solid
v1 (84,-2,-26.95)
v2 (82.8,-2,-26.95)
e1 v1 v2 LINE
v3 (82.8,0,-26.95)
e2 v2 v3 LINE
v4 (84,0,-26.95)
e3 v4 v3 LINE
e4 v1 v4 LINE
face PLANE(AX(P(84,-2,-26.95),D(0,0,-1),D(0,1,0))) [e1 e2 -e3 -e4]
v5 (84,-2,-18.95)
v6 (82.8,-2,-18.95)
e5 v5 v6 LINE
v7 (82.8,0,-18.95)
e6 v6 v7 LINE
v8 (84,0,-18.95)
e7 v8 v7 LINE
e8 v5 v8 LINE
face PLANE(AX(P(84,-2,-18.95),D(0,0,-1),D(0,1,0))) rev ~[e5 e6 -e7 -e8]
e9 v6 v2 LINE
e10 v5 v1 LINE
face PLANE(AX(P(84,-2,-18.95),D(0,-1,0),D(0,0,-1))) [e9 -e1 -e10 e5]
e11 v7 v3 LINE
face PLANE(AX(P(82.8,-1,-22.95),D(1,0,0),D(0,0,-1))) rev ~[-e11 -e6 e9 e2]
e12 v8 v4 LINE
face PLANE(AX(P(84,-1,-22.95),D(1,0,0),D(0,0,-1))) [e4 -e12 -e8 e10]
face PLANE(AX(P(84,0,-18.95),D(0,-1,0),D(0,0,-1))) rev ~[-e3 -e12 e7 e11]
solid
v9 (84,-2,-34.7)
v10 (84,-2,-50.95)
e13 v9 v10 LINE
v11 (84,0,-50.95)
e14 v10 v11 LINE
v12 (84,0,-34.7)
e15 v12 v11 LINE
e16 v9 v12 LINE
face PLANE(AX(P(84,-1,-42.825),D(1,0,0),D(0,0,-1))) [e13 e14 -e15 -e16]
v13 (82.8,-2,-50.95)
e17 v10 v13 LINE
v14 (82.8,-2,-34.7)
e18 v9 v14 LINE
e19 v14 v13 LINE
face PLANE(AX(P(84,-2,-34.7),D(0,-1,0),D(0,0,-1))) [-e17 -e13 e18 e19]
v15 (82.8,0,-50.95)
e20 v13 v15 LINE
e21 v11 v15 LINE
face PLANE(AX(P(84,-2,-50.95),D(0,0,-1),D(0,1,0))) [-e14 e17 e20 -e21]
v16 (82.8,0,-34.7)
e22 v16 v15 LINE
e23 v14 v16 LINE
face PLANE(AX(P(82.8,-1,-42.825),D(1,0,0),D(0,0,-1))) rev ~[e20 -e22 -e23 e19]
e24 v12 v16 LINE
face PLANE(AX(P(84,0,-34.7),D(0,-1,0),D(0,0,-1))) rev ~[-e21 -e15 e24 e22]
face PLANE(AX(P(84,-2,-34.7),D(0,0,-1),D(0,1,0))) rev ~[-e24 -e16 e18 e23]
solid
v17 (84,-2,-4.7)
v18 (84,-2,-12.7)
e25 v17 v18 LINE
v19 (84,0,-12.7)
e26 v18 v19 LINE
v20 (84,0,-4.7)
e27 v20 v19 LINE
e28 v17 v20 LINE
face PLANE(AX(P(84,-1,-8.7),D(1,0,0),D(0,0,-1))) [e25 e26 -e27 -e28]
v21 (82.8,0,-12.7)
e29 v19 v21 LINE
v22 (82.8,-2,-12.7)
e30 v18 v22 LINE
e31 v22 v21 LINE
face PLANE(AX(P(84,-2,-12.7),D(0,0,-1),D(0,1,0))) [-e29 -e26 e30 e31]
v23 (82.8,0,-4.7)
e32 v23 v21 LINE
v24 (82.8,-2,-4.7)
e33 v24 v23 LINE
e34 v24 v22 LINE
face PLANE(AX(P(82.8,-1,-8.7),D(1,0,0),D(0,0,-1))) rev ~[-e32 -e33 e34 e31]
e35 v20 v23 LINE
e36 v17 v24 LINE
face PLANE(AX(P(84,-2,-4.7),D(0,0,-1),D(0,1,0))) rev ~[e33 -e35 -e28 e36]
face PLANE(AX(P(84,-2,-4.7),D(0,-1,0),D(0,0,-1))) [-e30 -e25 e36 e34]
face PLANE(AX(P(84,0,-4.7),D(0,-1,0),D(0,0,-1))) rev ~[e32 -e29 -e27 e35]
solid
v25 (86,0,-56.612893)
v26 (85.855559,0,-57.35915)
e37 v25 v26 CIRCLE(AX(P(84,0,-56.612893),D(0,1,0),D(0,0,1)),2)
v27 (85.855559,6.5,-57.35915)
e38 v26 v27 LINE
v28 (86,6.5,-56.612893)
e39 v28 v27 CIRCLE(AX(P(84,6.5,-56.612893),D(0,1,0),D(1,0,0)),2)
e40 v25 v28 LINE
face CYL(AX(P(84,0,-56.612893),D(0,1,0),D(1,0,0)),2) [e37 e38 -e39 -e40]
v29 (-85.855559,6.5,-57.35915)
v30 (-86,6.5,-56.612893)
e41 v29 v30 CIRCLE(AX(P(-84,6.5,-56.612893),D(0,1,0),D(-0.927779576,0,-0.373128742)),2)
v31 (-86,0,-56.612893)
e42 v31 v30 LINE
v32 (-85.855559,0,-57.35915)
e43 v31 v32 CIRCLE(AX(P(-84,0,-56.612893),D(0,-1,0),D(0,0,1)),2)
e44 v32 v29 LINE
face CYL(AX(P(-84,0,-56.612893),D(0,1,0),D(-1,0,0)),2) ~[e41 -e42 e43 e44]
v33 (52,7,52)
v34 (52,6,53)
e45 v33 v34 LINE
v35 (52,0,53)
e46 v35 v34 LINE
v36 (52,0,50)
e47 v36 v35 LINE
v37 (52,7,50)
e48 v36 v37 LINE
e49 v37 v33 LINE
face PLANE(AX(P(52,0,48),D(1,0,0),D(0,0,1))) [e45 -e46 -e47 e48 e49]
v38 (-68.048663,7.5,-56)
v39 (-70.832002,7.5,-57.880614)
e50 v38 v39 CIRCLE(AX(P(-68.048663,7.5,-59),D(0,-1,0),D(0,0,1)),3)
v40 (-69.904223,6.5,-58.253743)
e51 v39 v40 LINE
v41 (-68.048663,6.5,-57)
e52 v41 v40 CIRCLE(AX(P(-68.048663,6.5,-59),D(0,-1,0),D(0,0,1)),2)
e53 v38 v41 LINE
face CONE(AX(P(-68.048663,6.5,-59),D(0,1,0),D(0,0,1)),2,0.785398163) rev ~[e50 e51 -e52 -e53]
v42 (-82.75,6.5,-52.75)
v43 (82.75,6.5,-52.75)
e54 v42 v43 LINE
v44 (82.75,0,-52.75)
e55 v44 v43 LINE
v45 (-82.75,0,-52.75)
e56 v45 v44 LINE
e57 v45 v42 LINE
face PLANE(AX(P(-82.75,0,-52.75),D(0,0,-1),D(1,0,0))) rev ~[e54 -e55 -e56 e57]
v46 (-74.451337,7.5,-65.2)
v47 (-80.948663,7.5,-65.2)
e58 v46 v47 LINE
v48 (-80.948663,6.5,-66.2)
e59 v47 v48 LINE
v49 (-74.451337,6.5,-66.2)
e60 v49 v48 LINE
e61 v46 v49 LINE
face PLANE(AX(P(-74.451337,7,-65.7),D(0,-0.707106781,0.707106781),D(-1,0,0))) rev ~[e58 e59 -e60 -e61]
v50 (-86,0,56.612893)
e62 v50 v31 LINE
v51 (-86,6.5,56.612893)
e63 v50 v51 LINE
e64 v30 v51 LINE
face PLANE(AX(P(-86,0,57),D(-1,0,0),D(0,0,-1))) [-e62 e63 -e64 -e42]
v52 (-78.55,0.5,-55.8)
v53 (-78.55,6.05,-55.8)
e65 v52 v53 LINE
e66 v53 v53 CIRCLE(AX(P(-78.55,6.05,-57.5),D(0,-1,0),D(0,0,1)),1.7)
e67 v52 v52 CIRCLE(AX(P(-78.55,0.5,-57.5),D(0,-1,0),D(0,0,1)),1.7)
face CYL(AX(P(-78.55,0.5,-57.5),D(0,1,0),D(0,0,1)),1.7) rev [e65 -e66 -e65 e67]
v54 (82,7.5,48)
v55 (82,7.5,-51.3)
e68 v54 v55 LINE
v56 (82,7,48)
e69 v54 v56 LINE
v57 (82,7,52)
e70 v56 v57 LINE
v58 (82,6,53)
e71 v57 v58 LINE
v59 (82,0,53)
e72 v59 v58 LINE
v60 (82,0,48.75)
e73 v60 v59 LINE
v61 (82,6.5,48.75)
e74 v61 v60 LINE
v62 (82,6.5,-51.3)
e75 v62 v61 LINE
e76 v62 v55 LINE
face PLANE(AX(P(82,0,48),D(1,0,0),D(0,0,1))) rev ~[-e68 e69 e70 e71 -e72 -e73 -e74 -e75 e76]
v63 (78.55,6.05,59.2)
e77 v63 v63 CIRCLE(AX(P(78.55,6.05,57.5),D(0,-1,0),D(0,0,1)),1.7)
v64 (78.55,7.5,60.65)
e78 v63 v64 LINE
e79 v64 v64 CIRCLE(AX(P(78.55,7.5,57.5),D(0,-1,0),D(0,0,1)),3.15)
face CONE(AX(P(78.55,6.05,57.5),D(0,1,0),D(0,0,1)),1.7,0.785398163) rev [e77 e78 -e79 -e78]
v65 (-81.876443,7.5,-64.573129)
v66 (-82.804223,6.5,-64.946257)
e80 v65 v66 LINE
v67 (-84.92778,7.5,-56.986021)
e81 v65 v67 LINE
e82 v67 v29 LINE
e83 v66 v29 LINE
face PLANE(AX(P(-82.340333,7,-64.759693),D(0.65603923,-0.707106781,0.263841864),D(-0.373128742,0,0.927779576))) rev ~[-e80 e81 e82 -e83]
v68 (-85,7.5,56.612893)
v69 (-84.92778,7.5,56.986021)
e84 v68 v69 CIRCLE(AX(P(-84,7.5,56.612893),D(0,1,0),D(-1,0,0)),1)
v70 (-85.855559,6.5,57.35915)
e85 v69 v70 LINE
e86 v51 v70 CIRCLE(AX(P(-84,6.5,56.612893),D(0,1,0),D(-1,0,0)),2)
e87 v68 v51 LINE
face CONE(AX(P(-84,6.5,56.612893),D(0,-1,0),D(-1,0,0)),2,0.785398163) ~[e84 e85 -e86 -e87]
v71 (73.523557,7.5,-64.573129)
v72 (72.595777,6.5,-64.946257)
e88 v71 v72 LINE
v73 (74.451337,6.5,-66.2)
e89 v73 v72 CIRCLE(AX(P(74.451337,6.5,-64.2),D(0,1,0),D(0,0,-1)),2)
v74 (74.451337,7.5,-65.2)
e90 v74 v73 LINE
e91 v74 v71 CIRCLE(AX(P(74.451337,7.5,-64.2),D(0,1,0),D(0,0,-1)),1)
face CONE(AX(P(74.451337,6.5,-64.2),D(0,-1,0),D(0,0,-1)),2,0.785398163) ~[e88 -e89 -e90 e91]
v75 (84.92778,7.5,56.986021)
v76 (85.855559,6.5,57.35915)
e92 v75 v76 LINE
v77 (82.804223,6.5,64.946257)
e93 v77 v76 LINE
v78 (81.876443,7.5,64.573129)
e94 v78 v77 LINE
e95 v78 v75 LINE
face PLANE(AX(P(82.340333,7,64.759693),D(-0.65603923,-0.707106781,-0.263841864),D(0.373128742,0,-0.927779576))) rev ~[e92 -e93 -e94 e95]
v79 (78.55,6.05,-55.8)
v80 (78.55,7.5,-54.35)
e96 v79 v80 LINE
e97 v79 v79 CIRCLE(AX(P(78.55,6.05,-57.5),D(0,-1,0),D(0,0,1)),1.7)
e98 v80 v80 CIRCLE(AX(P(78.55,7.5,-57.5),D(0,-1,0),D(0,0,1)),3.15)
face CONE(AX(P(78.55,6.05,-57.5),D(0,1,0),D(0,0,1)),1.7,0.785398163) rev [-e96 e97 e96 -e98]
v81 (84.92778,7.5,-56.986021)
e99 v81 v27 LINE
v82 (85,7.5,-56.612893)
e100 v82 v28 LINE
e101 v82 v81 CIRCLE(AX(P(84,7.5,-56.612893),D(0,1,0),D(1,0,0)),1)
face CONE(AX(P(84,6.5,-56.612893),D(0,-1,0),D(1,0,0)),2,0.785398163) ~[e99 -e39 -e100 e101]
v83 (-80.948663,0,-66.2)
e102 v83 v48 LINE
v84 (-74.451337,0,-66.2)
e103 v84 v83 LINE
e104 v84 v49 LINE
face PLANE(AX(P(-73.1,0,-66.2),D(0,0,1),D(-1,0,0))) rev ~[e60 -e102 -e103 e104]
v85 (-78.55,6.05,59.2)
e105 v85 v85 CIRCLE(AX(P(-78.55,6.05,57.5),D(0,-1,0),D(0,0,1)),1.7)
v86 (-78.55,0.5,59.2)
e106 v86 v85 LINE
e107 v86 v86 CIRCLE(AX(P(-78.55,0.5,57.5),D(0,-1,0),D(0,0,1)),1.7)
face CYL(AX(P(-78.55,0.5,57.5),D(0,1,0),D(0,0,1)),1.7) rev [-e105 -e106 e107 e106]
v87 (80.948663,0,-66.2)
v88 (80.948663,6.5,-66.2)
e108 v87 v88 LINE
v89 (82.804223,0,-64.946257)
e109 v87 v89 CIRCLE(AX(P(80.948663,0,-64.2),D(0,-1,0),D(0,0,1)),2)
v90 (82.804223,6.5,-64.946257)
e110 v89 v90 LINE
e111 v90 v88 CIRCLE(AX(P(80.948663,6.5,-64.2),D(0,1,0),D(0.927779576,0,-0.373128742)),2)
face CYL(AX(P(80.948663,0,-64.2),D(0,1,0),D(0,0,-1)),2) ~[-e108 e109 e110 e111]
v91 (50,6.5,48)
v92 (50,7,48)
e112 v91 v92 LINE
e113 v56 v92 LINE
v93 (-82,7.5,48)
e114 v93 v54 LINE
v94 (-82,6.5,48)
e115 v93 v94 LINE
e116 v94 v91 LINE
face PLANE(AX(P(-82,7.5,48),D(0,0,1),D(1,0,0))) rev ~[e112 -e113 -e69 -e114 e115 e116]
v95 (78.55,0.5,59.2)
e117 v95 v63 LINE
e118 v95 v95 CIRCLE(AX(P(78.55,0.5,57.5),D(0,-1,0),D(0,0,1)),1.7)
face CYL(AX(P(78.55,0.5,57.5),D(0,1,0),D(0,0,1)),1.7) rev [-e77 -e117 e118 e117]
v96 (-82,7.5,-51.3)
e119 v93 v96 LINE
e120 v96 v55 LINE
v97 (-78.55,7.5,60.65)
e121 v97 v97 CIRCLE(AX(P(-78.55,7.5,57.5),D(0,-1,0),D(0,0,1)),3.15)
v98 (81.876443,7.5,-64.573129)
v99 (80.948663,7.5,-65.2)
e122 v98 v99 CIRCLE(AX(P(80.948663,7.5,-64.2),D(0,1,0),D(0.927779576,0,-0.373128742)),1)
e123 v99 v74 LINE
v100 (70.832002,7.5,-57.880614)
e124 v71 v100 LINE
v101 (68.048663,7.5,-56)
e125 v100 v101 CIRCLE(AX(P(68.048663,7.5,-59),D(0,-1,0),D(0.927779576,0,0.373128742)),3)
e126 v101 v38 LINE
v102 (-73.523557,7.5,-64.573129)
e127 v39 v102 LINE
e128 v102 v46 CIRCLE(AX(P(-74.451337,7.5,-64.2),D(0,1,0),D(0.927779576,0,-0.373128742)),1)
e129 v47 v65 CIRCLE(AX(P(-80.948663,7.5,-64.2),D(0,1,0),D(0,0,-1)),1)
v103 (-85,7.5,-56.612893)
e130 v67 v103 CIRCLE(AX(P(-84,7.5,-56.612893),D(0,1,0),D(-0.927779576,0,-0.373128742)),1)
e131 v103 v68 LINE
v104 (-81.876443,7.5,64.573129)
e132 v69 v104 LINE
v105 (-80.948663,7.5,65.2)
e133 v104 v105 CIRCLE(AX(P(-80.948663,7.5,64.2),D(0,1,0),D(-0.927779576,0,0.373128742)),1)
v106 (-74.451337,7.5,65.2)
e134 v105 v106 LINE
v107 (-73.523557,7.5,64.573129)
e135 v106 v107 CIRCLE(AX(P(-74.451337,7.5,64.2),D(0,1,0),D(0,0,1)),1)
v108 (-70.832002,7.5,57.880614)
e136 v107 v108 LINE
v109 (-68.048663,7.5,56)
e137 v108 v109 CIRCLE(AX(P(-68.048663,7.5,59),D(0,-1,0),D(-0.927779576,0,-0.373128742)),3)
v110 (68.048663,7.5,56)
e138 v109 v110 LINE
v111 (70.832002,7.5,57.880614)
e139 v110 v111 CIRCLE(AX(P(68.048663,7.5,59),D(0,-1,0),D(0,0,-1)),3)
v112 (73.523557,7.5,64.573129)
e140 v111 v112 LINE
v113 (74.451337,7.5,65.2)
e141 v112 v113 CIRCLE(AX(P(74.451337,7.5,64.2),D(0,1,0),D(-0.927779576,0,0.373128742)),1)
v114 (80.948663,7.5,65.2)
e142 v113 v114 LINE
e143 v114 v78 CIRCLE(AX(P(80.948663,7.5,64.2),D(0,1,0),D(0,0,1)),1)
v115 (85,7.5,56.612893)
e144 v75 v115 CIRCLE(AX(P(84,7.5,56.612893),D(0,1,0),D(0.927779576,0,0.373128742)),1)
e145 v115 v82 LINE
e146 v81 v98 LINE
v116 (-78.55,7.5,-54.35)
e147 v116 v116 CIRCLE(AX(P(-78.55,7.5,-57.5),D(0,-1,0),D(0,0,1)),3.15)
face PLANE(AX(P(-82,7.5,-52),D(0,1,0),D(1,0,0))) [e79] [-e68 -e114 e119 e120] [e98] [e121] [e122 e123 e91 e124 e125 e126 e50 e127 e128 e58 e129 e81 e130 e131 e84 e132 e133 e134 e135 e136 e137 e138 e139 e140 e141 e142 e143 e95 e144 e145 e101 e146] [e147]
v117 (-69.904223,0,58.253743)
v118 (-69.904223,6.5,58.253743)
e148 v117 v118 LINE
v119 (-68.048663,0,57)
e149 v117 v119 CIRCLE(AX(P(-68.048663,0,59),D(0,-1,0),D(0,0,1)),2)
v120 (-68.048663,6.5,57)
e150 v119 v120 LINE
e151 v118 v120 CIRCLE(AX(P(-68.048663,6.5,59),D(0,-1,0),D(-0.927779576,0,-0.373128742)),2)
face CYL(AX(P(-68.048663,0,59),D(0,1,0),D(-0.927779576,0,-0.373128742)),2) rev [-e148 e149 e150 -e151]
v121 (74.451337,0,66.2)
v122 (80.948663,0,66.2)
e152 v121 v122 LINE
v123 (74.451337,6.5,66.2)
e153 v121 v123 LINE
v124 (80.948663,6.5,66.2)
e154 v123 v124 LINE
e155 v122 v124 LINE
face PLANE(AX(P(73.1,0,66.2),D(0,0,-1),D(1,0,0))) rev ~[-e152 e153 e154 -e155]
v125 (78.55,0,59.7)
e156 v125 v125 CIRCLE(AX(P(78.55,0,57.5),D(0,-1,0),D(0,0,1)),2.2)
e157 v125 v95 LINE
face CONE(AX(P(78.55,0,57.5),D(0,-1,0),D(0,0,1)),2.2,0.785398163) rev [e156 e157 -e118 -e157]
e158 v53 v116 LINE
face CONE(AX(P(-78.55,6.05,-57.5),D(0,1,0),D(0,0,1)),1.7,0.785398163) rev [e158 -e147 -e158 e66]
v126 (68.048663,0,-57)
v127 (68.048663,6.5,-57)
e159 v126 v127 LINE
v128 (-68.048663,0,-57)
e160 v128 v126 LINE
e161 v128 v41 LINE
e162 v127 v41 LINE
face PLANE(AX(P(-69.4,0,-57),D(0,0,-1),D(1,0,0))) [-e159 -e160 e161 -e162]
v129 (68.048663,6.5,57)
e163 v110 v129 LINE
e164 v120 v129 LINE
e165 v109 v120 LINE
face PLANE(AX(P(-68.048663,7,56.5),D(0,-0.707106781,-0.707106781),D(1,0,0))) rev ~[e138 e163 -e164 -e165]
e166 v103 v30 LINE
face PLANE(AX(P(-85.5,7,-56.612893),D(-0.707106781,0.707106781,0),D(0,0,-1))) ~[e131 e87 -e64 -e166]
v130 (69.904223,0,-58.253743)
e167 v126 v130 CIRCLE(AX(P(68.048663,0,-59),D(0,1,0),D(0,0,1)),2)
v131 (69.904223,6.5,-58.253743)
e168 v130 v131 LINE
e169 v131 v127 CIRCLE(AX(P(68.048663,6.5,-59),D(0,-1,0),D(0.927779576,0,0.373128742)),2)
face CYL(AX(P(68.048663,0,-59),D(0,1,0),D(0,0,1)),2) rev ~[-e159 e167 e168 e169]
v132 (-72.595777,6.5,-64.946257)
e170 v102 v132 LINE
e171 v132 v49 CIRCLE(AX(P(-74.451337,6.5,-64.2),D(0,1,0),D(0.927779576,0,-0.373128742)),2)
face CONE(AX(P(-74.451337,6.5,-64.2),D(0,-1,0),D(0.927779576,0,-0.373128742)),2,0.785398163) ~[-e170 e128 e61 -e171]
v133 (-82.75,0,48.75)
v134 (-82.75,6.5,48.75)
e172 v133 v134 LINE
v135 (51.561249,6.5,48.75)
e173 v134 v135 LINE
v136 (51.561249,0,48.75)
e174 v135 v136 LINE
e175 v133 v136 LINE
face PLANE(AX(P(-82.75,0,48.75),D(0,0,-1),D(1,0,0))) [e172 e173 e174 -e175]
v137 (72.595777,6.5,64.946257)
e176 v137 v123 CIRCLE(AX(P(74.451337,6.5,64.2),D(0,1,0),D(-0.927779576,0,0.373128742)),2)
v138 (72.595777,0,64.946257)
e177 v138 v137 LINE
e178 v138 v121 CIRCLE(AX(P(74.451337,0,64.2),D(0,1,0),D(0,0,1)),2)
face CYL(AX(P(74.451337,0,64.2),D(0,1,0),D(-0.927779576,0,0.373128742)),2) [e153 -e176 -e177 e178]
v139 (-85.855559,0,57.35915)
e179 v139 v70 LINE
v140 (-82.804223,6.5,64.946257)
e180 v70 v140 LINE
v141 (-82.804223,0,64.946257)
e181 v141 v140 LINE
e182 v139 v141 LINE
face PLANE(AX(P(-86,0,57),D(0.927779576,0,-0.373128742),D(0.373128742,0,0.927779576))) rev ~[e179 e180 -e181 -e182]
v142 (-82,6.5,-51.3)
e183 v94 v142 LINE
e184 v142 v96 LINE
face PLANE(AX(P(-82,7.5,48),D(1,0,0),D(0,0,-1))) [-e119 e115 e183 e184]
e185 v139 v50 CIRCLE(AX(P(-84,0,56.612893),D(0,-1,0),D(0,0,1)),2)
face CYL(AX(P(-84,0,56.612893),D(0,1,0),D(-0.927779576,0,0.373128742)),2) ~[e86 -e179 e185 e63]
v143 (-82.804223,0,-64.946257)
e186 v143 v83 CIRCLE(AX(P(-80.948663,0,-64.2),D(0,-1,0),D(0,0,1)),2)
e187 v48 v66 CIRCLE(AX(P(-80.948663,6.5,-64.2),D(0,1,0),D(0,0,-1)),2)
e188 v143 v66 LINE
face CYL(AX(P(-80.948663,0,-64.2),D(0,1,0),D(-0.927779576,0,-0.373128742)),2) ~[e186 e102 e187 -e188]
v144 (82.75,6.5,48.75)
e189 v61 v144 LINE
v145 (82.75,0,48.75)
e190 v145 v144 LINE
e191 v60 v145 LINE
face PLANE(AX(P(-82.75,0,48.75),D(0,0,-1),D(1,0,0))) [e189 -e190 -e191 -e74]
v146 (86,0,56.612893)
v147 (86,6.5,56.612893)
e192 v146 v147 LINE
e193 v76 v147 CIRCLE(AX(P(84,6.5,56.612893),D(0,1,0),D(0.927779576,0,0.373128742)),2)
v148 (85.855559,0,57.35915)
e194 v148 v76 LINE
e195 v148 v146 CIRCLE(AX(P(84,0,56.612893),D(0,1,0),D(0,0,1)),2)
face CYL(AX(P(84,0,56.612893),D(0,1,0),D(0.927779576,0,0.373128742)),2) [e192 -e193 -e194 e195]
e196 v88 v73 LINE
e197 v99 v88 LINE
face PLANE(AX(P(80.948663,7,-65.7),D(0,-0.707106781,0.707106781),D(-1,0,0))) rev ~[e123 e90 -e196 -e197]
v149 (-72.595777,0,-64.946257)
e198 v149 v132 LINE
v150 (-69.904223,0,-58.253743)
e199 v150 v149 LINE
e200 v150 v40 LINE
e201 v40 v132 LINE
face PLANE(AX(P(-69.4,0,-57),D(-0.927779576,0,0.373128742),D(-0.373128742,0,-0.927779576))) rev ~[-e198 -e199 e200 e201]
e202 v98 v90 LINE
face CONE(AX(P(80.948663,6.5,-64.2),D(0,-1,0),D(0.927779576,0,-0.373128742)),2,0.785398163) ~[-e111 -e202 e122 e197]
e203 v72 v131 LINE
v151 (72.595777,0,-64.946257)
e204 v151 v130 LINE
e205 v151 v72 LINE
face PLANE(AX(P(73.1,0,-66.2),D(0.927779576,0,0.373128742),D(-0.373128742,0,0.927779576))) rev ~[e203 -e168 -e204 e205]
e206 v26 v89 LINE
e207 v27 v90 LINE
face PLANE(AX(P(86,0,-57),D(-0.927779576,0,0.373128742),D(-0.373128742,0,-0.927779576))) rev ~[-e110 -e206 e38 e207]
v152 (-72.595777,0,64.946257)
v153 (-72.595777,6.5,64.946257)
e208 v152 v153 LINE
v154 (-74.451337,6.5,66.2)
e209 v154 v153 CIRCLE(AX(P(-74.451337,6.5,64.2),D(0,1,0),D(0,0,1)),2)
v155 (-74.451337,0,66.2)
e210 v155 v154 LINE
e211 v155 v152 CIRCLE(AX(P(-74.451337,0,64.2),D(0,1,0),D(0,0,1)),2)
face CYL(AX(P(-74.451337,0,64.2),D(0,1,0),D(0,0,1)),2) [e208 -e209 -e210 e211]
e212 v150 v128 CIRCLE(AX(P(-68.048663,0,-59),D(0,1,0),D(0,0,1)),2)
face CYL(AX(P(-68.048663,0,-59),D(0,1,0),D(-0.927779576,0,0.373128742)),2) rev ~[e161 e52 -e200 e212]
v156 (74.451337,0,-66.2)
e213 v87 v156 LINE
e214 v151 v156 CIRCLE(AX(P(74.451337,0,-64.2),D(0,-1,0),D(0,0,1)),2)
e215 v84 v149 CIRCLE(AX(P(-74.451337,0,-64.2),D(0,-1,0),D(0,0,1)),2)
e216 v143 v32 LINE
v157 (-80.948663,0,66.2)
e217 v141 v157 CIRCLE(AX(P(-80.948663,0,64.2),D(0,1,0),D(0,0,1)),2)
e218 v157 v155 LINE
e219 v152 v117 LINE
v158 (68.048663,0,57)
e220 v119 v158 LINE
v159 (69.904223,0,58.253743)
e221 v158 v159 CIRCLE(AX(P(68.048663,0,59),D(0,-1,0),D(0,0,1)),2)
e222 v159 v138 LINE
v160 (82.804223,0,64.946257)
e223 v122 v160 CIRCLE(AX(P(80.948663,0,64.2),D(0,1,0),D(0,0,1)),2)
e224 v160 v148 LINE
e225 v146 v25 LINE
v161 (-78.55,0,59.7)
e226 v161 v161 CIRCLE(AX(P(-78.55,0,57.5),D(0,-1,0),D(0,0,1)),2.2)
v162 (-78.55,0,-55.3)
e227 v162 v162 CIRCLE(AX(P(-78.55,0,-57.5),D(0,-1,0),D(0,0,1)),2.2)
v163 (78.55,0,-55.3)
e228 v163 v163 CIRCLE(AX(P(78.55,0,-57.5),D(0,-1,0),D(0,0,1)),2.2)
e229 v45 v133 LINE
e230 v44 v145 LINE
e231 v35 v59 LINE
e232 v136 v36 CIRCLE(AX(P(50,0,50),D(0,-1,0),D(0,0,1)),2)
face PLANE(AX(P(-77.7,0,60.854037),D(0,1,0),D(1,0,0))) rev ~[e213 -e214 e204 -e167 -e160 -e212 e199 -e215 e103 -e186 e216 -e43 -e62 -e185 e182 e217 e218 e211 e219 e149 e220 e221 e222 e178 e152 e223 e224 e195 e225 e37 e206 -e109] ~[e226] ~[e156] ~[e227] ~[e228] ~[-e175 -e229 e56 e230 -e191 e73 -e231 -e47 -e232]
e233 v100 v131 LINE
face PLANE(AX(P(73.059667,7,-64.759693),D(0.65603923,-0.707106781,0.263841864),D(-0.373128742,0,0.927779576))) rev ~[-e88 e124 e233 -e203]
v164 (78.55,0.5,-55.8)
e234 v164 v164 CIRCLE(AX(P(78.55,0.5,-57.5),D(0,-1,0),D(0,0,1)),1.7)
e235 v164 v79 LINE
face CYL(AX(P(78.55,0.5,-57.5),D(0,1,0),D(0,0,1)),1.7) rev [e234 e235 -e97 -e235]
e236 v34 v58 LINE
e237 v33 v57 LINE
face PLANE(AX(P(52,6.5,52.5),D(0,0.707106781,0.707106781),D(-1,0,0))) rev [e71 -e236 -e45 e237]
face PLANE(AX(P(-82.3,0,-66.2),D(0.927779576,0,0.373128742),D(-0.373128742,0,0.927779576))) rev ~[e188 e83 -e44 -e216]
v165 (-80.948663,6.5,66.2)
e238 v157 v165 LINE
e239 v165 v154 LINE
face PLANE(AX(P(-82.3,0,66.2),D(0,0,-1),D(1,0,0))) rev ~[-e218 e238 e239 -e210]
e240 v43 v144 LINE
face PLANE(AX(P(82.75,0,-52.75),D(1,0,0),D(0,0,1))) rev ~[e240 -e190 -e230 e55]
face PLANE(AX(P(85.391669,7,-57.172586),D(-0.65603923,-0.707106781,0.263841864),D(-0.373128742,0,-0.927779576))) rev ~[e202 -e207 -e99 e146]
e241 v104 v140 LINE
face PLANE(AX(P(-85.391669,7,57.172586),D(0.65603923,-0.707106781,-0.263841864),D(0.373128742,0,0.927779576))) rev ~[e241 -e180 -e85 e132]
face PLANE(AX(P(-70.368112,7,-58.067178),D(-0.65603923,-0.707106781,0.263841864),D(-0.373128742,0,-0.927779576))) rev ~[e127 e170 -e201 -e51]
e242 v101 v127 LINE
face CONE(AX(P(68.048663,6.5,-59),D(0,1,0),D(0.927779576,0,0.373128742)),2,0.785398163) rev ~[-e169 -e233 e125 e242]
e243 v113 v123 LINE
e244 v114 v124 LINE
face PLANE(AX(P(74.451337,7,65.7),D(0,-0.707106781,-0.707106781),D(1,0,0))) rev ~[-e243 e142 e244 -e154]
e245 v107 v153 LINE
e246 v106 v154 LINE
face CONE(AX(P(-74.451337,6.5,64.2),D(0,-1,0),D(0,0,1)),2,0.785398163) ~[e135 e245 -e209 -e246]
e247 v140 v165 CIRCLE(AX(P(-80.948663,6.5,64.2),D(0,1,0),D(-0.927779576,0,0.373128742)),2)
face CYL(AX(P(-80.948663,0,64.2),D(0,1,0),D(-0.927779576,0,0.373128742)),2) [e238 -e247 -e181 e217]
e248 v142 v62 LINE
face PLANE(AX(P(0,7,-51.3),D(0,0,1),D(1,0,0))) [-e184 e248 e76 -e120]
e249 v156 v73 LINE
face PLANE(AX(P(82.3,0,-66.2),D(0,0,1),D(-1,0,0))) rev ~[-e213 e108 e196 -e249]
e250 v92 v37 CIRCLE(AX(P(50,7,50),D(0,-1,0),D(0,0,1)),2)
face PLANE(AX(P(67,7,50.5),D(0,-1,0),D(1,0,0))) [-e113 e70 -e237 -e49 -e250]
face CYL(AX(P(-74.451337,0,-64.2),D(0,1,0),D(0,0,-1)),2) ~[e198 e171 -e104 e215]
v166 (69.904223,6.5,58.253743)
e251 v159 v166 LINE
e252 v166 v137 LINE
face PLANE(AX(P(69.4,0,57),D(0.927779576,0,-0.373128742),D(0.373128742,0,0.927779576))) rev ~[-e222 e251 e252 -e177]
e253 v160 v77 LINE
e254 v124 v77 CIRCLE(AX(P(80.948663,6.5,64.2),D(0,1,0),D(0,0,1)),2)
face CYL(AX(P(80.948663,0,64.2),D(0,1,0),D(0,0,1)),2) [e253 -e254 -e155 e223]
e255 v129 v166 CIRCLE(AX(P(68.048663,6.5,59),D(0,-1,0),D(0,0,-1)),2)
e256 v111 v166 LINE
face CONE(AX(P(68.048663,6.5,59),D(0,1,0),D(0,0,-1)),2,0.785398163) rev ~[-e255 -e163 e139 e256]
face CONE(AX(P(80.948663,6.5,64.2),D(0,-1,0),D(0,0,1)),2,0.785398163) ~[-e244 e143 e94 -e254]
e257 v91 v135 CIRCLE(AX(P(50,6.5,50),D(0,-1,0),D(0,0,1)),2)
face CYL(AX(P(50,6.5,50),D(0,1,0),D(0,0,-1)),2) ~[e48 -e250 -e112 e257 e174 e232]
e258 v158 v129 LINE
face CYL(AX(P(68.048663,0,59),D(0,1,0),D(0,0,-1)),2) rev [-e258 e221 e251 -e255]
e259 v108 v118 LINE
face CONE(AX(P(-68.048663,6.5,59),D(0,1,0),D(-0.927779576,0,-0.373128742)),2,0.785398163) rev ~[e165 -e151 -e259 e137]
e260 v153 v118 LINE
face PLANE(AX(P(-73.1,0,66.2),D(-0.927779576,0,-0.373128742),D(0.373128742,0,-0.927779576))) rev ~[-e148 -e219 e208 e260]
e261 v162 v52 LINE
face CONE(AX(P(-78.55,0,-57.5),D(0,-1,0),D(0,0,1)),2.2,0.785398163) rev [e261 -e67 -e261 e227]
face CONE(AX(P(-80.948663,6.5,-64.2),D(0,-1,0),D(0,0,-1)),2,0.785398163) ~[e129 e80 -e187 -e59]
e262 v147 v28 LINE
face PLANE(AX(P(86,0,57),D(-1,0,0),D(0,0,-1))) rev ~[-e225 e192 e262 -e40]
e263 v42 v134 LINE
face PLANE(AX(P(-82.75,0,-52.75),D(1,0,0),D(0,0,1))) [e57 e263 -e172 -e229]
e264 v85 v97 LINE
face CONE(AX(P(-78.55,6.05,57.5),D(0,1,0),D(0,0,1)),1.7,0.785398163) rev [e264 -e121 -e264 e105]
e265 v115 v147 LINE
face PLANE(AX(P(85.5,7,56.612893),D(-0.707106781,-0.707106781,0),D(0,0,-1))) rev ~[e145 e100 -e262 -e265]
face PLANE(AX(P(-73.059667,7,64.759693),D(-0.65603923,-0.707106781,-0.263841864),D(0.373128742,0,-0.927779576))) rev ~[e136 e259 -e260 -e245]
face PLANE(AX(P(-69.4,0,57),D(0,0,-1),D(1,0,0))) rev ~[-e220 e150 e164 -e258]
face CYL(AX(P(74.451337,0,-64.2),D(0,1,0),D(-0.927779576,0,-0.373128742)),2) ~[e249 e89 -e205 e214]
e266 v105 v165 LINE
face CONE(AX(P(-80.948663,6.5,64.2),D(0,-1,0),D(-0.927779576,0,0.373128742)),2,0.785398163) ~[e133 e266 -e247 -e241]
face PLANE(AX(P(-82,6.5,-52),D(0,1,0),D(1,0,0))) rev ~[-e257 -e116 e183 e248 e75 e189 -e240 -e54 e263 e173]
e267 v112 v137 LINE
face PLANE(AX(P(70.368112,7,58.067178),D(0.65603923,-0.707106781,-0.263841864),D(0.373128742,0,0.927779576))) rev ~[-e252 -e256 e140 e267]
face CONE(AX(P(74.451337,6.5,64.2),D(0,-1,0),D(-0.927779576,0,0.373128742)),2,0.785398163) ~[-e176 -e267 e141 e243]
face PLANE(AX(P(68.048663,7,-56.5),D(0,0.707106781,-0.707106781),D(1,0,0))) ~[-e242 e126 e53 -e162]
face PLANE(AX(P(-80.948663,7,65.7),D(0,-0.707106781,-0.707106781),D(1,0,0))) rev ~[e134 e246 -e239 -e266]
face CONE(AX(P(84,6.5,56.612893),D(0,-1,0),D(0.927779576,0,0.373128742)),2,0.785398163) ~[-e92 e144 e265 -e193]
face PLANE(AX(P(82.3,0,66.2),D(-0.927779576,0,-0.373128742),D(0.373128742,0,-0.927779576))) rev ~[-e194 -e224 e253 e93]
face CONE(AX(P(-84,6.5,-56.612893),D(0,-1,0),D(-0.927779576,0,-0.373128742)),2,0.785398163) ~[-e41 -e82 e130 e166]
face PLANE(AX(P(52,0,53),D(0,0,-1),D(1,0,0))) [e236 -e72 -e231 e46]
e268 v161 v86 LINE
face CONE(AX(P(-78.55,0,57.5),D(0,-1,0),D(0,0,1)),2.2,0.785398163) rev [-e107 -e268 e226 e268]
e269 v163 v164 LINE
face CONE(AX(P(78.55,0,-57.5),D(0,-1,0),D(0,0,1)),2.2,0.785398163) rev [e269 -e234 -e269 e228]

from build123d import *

# Parameters (mm, degrees)
SKETCH1_W                                      = 172
SKETCH1_H                                      = 114
BOSS_EXTRUDE1_DEPTH                            = 7.5
SKETCH2_W                                      = 164
SKETCH2_H                                      = 100
CUT_EXTRUDE1_DEPTH                             = 109.787361398
SKETCH8_W                                      = 165.5
SKETCH8_H                                      = 101.5
CUT_EXTRUDE3_DEPTH                             = 6.5
CSK_FOR_M3_FLAT_HEAD_MACHINE_SCREW1_AT_2_COUNT = 2
CSK_FOR_M3_FLAT_HEAD_MACHINE_SCREW1_AT_2_PITCH = 157.1
CSK_FOR_M3_FLAT_HEAD_MACHINE_SCREW1_AT_3_COUNT = 2
CSK_FOR_M3_FLAT_HEAD_MACHINE_SCREW1_AT_3_PITCH = 194.693117495
CSK_FOR_M3_FLAT_HEAD_MACHINE_SCREW1_AT_4_COUNT = 2
CSK_FOR_M3_FLAT_HEAD_MACHINE_SCREW1_AT_4_PITCH = 115
CSK_FOR_M3_FLAT_HEAD_MACHINE_SCREW1_AT_5_COUNT = 2
CSK_FOR_M3_FLAT_HEAD_MACHINE_SCREW1_AT_5_PITCH = 97.346558748
BOSS_EXTRUDE2_START                            = -2
SKETCH6_W                                      = 16.25
SKETCH6_H                                      = 2
BOSS_EXTRUDE2_DEPTH                            = 1.2
SKETCH6_W_2                                    = 8
BOSS_EXTRUDE2_2_DEPTH                          = 1.2
BOSS_EXTRUDE2_3_DEPTH                          = 1.2
SKETCH7_W                                      = 30
SKETCH7_H                                      = 5
CUT_EXTRUDE2_DEPTH                             = 7
SKETCH9_W                                      = 164
SKETCH9_H                                      = 1
BOSS_EXTRUDE3_DEPTH                            = 0.7
FILLET1_R                                      = 2
CHAMFER1_SIZE                                  = 1


with BuildPart() as part:
    # Sketch1 → Boss-Extrude1 (new body)
    with BuildSketch(Plane(origin=(0, 0, 0), x_dir=(1, 0, 0), z_dir=(0, 1, 0))):
        Polygon((-69.4, -57), (-86, -57), (-82.3, -66.2), (-73.1, -66.2), align=None)
        Rectangle(SKETCH1_W, SKETCH1_H)
        Polygon((86, -57), (69.4, -57), (73.1, -66.2), (82.3, -66.2), align=None)
        Polygon((73.1, 66.2), (69.4, 57), (86, 57), (82.3, 66.2), align=None)
        Polygon((-82.3, 66.2), (-86, 57), (-69.4, 57), (-73.1, 66.2), align=None)
    extrude(amount=BOSS_EXTRUDE1_DEPTH)

    # Sketch2 → Cut-Extrude1 (cut, through all)
    with BuildSketch(Plane(origin=(0, 7.5, 0), x_dir=(1, 0, 0), z_dir=(0, 1, 0))):
        with Locations((0, 2)):
            Rectangle(SKETCH2_W, SKETCH2_H)
    extrude(amount=-CUT_EXTRUDE1_DEPTH, mode=Mode.SUBTRACT)

    # Sketch8 → Cut-Extrude3 (cut)
    with BuildSketch(Plane.XZ):
        with Locations((0, -2)):
            Rectangle(SKETCH8_W, SKETCH8_H)
    extrude(amount=-CUT_EXTRUDE3_DEPTH, mode=Mode.SUBTRACT)

    # Sketch4 → CSK for M3 Flat Head Machine Screw1 (revolve, cut)
    with BuildSketch(Plane(origin=(-78.55, 7.5, -57.5), x_dir=(0, 0, 1), z_dir=(1, 0, 0))):
        Polygon((0, 0), (0, 7.5), (2.2, 7.5), (1.7, 7), (1.7, 1.45), (3.15, 0), align=None)
    csk_for_m3_flat_head_machine_screw1 = revolve(axis=Axis((-78.55, 13.85, -57.5), (0, -1, 0)), mode=Mode.SUBTRACT)

    # CSK for M3 Flat Head Machine Screw1 at 2: CSK for M3 Flat Head Machine Screw1 ×2
    with Locations(*[(i * CSK_FOR_M3_FLAT_HEAD_MACHINE_SCREW1_AT_2_PITCH, 0, 0) for i in range(1, CSK_FOR_M3_FLAT_HEAD_MACHINE_SCREW1_AT_2_COUNT)]):
        add(csk_for_m3_flat_head_machine_screw1, mode=Mode.SUBTRACT)

    # CSK for M3 Flat Head Machine Screw1 at 3: CSK for M3 Flat Head Machine Screw1 ×2
    with Locations(*[Vector(0.8069109068730828, 0, 0.5906731654386028) * (i * CSK_FOR_M3_FLAT_HEAD_MACHINE_SCREW1_AT_3_PITCH) for i in range(1, CSK_FOR_M3_FLAT_HEAD_MACHINE_SCREW1_AT_3_COUNT)]):
        add(csk_for_m3_flat_head_machine_screw1, mode=Mode.SUBTRACT)

    # CSK for M3 Flat Head Machine Screw1 at 4: CSK for M3 Flat Head Machine Screw1 ×2
    with Locations(*[(0, 0, i * CSK_FOR_M3_FLAT_HEAD_MACHINE_SCREW1_AT_4_PITCH) for i in range(1, CSK_FOR_M3_FLAT_HEAD_MACHINE_SCREW1_AT_4_COUNT)]):
        add(csk_for_m3_flat_head_machine_screw1, mode=Mode.SUBTRACT)

    # CSK for M3 Flat Head Machine Screw1 at 5: CSK for M3 Flat Head Machine Screw1 ×2
    with Locations(*[Vector(0.8069109068730828, 0, 0.5906731654386028) * (i * CSK_FOR_M3_FLAT_HEAD_MACHINE_SCREW1_AT_5_PITCH) for i in range(1, CSK_FOR_M3_FLAT_HEAD_MACHINE_SCREW1_AT_5_COUNT)]):
        add(csk_for_m3_flat_head_machine_screw1, mode=Mode.SUBTRACT)

    # Sketch7 → Cut-Extrude2 (cut)
    with BuildSketch(Plane.XZ):
        with Locations((67, 50.5)):
            Rectangle(SKETCH7_W, SKETCH7_H)
    extrude(amount=-CUT_EXTRUDE2_DEPTH, mode=Mode.SUBTRACT)

    # Sketch9 → Boss-Extrude3 (add)
    with BuildSketch(Plane.XY.offset(-52)):
        with Locations((0, 7)):
            Rectangle(SKETCH9_W, SKETCH9_H)
    extrude(amount=BOSS_EXTRUDE3_DEPTH)

    # Fillet1
    fillet1_edges = [part.edges().sort_by_distance(p)[0] for p in [
        (-86, 3.75, 57),
        (-73.1, 3.75, -66.2),
        (-69.4, 3.75, -57),
        (69.4, 3.75, -57),
        (73.1, 3.75, -66.2),
        (82.3, 3.75, -66.2),
        (86, 3.75, -57),
        (86, 3.75, 57),
        (82.3, 3.75, 66.2),
        (73.1, 3.75, 66.2),
        (69.4, 3.75, 57),
        (-69.4, 3.75, 57),
        (-73.1, 3.75, 66.2),
        (-82.3, 3.75, 66.2),
        (-86, 3.75, -57),
        (-82.3, 3.75, -66.2),
        (52, 6.75, 48),
    ]]
    fillet(fillet1_edges, radius=FILLET1_R)

    # Chamfer1
    chamfer1_edges = [part.edges().sort_by_distance(p)[0] for p in [
        (67, 7, 53),
        (-84.329890843, 7.5, 61.152703851),
        (-86, 7.5, 0),
        (-77.7, 7.5, 66.2),
        (-71.25, 7.5, 61.6),
        (0, 7.5, 57),
        (71.25, 7.5, 61.6),
        (77.7, 7.5, 66.2),
        (84.329890843, 7.5, 61.152703851),
        (86, 7.5, 0),
        (84.329890843, 7.5, -61.152703851),
        (77.7, 7.5, -66.2),
        (71.25, 7.5, -61.6),
        (0, 7.5, -57),
        (-71.25, 7.5, -61.6),
        (-77.7, 7.5, -66.2),
        (-84.329890843, 7.5, -61.152703851),
        (-82.068369823, 7.5, -65.8571836),
        (-85.963557779, 7.5, -56.992946476),
        (-82.068369823, 7.5, 65.8571836),
        (-73.331630177, 7.5, 65.8571836),
        (73.331630177, 7.5, 65.8571836),
        (82.068369823, 7.5, 65.8571836),
        (85.963557779, 7.5, 56.992946476),
        (85.963557779, 7.5, -56.992946476),
        (82.068369823, 7.5, -65.8571836),
        (73.331630177, 7.5, -65.8571836),
        (-73.331630177, 7.5, -65.8571836),
        (-85.963557779, 7.5, 56.992946476),
        (-69.168369823, 7.5, -57.3428164),
        (69.168369823, 7.5, -57.3428164),
        (69.168369823, 7.5, 57.3428164),
        (-69.168369823, 7.5, 57.3428164),
    ]]
    chamfer(chamfer1_edges, length=CHAMFER1_SIZE)


with BuildPart() as body_2:
    # Sketch6 → Boss-Extrude2 (new body)
    with BuildSketch(Plane(origin=(86, 0, 0), x_dir=(0, 0, -1), z_dir=(1, 0, 0)).offset(BOSS_EXTRUDE2_START)):
        with Locations((42.825, -1)):
            Rectangle(SKETCH6_W, SKETCH6_H)
    extrude(amount=-BOSS_EXTRUDE2_DEPTH)


with BuildPart() as body_3:
    # Sketch6 → Boss-Extrude2 2 (new body)
    with BuildSketch(Plane(origin=(86, 0, 0), x_dir=(0, 0, -1), z_dir=(1, 0, 0)).offset(BOSS_EXTRUDE2_START)):
        with Locations((22.95, -1)):
            Rectangle(SKETCH6_W_2, SKETCH6_H)
    extrude(amount=-BOSS_EXTRUDE2_2_DEPTH)


with BuildPart() as body_4:
    # Sketch6 → Boss-Extrude2 3 (new body)
    with BuildSketch(Plane(origin=(86, 0, 0), x_dir=(0, 0, -1), z_dir=(1, 0, 0)).offset(BOSS_EXTRUDE2_START)):
        with Locations((8.7, -1)):
            Rectangle(SKETCH6_W_2, SKETCH6_H)
    extrude(amount=-BOSS_EXTRUDE2_3_DEPTH)


solid = Compound([part.part, body_2.part, body_3.part, body_4.part])
